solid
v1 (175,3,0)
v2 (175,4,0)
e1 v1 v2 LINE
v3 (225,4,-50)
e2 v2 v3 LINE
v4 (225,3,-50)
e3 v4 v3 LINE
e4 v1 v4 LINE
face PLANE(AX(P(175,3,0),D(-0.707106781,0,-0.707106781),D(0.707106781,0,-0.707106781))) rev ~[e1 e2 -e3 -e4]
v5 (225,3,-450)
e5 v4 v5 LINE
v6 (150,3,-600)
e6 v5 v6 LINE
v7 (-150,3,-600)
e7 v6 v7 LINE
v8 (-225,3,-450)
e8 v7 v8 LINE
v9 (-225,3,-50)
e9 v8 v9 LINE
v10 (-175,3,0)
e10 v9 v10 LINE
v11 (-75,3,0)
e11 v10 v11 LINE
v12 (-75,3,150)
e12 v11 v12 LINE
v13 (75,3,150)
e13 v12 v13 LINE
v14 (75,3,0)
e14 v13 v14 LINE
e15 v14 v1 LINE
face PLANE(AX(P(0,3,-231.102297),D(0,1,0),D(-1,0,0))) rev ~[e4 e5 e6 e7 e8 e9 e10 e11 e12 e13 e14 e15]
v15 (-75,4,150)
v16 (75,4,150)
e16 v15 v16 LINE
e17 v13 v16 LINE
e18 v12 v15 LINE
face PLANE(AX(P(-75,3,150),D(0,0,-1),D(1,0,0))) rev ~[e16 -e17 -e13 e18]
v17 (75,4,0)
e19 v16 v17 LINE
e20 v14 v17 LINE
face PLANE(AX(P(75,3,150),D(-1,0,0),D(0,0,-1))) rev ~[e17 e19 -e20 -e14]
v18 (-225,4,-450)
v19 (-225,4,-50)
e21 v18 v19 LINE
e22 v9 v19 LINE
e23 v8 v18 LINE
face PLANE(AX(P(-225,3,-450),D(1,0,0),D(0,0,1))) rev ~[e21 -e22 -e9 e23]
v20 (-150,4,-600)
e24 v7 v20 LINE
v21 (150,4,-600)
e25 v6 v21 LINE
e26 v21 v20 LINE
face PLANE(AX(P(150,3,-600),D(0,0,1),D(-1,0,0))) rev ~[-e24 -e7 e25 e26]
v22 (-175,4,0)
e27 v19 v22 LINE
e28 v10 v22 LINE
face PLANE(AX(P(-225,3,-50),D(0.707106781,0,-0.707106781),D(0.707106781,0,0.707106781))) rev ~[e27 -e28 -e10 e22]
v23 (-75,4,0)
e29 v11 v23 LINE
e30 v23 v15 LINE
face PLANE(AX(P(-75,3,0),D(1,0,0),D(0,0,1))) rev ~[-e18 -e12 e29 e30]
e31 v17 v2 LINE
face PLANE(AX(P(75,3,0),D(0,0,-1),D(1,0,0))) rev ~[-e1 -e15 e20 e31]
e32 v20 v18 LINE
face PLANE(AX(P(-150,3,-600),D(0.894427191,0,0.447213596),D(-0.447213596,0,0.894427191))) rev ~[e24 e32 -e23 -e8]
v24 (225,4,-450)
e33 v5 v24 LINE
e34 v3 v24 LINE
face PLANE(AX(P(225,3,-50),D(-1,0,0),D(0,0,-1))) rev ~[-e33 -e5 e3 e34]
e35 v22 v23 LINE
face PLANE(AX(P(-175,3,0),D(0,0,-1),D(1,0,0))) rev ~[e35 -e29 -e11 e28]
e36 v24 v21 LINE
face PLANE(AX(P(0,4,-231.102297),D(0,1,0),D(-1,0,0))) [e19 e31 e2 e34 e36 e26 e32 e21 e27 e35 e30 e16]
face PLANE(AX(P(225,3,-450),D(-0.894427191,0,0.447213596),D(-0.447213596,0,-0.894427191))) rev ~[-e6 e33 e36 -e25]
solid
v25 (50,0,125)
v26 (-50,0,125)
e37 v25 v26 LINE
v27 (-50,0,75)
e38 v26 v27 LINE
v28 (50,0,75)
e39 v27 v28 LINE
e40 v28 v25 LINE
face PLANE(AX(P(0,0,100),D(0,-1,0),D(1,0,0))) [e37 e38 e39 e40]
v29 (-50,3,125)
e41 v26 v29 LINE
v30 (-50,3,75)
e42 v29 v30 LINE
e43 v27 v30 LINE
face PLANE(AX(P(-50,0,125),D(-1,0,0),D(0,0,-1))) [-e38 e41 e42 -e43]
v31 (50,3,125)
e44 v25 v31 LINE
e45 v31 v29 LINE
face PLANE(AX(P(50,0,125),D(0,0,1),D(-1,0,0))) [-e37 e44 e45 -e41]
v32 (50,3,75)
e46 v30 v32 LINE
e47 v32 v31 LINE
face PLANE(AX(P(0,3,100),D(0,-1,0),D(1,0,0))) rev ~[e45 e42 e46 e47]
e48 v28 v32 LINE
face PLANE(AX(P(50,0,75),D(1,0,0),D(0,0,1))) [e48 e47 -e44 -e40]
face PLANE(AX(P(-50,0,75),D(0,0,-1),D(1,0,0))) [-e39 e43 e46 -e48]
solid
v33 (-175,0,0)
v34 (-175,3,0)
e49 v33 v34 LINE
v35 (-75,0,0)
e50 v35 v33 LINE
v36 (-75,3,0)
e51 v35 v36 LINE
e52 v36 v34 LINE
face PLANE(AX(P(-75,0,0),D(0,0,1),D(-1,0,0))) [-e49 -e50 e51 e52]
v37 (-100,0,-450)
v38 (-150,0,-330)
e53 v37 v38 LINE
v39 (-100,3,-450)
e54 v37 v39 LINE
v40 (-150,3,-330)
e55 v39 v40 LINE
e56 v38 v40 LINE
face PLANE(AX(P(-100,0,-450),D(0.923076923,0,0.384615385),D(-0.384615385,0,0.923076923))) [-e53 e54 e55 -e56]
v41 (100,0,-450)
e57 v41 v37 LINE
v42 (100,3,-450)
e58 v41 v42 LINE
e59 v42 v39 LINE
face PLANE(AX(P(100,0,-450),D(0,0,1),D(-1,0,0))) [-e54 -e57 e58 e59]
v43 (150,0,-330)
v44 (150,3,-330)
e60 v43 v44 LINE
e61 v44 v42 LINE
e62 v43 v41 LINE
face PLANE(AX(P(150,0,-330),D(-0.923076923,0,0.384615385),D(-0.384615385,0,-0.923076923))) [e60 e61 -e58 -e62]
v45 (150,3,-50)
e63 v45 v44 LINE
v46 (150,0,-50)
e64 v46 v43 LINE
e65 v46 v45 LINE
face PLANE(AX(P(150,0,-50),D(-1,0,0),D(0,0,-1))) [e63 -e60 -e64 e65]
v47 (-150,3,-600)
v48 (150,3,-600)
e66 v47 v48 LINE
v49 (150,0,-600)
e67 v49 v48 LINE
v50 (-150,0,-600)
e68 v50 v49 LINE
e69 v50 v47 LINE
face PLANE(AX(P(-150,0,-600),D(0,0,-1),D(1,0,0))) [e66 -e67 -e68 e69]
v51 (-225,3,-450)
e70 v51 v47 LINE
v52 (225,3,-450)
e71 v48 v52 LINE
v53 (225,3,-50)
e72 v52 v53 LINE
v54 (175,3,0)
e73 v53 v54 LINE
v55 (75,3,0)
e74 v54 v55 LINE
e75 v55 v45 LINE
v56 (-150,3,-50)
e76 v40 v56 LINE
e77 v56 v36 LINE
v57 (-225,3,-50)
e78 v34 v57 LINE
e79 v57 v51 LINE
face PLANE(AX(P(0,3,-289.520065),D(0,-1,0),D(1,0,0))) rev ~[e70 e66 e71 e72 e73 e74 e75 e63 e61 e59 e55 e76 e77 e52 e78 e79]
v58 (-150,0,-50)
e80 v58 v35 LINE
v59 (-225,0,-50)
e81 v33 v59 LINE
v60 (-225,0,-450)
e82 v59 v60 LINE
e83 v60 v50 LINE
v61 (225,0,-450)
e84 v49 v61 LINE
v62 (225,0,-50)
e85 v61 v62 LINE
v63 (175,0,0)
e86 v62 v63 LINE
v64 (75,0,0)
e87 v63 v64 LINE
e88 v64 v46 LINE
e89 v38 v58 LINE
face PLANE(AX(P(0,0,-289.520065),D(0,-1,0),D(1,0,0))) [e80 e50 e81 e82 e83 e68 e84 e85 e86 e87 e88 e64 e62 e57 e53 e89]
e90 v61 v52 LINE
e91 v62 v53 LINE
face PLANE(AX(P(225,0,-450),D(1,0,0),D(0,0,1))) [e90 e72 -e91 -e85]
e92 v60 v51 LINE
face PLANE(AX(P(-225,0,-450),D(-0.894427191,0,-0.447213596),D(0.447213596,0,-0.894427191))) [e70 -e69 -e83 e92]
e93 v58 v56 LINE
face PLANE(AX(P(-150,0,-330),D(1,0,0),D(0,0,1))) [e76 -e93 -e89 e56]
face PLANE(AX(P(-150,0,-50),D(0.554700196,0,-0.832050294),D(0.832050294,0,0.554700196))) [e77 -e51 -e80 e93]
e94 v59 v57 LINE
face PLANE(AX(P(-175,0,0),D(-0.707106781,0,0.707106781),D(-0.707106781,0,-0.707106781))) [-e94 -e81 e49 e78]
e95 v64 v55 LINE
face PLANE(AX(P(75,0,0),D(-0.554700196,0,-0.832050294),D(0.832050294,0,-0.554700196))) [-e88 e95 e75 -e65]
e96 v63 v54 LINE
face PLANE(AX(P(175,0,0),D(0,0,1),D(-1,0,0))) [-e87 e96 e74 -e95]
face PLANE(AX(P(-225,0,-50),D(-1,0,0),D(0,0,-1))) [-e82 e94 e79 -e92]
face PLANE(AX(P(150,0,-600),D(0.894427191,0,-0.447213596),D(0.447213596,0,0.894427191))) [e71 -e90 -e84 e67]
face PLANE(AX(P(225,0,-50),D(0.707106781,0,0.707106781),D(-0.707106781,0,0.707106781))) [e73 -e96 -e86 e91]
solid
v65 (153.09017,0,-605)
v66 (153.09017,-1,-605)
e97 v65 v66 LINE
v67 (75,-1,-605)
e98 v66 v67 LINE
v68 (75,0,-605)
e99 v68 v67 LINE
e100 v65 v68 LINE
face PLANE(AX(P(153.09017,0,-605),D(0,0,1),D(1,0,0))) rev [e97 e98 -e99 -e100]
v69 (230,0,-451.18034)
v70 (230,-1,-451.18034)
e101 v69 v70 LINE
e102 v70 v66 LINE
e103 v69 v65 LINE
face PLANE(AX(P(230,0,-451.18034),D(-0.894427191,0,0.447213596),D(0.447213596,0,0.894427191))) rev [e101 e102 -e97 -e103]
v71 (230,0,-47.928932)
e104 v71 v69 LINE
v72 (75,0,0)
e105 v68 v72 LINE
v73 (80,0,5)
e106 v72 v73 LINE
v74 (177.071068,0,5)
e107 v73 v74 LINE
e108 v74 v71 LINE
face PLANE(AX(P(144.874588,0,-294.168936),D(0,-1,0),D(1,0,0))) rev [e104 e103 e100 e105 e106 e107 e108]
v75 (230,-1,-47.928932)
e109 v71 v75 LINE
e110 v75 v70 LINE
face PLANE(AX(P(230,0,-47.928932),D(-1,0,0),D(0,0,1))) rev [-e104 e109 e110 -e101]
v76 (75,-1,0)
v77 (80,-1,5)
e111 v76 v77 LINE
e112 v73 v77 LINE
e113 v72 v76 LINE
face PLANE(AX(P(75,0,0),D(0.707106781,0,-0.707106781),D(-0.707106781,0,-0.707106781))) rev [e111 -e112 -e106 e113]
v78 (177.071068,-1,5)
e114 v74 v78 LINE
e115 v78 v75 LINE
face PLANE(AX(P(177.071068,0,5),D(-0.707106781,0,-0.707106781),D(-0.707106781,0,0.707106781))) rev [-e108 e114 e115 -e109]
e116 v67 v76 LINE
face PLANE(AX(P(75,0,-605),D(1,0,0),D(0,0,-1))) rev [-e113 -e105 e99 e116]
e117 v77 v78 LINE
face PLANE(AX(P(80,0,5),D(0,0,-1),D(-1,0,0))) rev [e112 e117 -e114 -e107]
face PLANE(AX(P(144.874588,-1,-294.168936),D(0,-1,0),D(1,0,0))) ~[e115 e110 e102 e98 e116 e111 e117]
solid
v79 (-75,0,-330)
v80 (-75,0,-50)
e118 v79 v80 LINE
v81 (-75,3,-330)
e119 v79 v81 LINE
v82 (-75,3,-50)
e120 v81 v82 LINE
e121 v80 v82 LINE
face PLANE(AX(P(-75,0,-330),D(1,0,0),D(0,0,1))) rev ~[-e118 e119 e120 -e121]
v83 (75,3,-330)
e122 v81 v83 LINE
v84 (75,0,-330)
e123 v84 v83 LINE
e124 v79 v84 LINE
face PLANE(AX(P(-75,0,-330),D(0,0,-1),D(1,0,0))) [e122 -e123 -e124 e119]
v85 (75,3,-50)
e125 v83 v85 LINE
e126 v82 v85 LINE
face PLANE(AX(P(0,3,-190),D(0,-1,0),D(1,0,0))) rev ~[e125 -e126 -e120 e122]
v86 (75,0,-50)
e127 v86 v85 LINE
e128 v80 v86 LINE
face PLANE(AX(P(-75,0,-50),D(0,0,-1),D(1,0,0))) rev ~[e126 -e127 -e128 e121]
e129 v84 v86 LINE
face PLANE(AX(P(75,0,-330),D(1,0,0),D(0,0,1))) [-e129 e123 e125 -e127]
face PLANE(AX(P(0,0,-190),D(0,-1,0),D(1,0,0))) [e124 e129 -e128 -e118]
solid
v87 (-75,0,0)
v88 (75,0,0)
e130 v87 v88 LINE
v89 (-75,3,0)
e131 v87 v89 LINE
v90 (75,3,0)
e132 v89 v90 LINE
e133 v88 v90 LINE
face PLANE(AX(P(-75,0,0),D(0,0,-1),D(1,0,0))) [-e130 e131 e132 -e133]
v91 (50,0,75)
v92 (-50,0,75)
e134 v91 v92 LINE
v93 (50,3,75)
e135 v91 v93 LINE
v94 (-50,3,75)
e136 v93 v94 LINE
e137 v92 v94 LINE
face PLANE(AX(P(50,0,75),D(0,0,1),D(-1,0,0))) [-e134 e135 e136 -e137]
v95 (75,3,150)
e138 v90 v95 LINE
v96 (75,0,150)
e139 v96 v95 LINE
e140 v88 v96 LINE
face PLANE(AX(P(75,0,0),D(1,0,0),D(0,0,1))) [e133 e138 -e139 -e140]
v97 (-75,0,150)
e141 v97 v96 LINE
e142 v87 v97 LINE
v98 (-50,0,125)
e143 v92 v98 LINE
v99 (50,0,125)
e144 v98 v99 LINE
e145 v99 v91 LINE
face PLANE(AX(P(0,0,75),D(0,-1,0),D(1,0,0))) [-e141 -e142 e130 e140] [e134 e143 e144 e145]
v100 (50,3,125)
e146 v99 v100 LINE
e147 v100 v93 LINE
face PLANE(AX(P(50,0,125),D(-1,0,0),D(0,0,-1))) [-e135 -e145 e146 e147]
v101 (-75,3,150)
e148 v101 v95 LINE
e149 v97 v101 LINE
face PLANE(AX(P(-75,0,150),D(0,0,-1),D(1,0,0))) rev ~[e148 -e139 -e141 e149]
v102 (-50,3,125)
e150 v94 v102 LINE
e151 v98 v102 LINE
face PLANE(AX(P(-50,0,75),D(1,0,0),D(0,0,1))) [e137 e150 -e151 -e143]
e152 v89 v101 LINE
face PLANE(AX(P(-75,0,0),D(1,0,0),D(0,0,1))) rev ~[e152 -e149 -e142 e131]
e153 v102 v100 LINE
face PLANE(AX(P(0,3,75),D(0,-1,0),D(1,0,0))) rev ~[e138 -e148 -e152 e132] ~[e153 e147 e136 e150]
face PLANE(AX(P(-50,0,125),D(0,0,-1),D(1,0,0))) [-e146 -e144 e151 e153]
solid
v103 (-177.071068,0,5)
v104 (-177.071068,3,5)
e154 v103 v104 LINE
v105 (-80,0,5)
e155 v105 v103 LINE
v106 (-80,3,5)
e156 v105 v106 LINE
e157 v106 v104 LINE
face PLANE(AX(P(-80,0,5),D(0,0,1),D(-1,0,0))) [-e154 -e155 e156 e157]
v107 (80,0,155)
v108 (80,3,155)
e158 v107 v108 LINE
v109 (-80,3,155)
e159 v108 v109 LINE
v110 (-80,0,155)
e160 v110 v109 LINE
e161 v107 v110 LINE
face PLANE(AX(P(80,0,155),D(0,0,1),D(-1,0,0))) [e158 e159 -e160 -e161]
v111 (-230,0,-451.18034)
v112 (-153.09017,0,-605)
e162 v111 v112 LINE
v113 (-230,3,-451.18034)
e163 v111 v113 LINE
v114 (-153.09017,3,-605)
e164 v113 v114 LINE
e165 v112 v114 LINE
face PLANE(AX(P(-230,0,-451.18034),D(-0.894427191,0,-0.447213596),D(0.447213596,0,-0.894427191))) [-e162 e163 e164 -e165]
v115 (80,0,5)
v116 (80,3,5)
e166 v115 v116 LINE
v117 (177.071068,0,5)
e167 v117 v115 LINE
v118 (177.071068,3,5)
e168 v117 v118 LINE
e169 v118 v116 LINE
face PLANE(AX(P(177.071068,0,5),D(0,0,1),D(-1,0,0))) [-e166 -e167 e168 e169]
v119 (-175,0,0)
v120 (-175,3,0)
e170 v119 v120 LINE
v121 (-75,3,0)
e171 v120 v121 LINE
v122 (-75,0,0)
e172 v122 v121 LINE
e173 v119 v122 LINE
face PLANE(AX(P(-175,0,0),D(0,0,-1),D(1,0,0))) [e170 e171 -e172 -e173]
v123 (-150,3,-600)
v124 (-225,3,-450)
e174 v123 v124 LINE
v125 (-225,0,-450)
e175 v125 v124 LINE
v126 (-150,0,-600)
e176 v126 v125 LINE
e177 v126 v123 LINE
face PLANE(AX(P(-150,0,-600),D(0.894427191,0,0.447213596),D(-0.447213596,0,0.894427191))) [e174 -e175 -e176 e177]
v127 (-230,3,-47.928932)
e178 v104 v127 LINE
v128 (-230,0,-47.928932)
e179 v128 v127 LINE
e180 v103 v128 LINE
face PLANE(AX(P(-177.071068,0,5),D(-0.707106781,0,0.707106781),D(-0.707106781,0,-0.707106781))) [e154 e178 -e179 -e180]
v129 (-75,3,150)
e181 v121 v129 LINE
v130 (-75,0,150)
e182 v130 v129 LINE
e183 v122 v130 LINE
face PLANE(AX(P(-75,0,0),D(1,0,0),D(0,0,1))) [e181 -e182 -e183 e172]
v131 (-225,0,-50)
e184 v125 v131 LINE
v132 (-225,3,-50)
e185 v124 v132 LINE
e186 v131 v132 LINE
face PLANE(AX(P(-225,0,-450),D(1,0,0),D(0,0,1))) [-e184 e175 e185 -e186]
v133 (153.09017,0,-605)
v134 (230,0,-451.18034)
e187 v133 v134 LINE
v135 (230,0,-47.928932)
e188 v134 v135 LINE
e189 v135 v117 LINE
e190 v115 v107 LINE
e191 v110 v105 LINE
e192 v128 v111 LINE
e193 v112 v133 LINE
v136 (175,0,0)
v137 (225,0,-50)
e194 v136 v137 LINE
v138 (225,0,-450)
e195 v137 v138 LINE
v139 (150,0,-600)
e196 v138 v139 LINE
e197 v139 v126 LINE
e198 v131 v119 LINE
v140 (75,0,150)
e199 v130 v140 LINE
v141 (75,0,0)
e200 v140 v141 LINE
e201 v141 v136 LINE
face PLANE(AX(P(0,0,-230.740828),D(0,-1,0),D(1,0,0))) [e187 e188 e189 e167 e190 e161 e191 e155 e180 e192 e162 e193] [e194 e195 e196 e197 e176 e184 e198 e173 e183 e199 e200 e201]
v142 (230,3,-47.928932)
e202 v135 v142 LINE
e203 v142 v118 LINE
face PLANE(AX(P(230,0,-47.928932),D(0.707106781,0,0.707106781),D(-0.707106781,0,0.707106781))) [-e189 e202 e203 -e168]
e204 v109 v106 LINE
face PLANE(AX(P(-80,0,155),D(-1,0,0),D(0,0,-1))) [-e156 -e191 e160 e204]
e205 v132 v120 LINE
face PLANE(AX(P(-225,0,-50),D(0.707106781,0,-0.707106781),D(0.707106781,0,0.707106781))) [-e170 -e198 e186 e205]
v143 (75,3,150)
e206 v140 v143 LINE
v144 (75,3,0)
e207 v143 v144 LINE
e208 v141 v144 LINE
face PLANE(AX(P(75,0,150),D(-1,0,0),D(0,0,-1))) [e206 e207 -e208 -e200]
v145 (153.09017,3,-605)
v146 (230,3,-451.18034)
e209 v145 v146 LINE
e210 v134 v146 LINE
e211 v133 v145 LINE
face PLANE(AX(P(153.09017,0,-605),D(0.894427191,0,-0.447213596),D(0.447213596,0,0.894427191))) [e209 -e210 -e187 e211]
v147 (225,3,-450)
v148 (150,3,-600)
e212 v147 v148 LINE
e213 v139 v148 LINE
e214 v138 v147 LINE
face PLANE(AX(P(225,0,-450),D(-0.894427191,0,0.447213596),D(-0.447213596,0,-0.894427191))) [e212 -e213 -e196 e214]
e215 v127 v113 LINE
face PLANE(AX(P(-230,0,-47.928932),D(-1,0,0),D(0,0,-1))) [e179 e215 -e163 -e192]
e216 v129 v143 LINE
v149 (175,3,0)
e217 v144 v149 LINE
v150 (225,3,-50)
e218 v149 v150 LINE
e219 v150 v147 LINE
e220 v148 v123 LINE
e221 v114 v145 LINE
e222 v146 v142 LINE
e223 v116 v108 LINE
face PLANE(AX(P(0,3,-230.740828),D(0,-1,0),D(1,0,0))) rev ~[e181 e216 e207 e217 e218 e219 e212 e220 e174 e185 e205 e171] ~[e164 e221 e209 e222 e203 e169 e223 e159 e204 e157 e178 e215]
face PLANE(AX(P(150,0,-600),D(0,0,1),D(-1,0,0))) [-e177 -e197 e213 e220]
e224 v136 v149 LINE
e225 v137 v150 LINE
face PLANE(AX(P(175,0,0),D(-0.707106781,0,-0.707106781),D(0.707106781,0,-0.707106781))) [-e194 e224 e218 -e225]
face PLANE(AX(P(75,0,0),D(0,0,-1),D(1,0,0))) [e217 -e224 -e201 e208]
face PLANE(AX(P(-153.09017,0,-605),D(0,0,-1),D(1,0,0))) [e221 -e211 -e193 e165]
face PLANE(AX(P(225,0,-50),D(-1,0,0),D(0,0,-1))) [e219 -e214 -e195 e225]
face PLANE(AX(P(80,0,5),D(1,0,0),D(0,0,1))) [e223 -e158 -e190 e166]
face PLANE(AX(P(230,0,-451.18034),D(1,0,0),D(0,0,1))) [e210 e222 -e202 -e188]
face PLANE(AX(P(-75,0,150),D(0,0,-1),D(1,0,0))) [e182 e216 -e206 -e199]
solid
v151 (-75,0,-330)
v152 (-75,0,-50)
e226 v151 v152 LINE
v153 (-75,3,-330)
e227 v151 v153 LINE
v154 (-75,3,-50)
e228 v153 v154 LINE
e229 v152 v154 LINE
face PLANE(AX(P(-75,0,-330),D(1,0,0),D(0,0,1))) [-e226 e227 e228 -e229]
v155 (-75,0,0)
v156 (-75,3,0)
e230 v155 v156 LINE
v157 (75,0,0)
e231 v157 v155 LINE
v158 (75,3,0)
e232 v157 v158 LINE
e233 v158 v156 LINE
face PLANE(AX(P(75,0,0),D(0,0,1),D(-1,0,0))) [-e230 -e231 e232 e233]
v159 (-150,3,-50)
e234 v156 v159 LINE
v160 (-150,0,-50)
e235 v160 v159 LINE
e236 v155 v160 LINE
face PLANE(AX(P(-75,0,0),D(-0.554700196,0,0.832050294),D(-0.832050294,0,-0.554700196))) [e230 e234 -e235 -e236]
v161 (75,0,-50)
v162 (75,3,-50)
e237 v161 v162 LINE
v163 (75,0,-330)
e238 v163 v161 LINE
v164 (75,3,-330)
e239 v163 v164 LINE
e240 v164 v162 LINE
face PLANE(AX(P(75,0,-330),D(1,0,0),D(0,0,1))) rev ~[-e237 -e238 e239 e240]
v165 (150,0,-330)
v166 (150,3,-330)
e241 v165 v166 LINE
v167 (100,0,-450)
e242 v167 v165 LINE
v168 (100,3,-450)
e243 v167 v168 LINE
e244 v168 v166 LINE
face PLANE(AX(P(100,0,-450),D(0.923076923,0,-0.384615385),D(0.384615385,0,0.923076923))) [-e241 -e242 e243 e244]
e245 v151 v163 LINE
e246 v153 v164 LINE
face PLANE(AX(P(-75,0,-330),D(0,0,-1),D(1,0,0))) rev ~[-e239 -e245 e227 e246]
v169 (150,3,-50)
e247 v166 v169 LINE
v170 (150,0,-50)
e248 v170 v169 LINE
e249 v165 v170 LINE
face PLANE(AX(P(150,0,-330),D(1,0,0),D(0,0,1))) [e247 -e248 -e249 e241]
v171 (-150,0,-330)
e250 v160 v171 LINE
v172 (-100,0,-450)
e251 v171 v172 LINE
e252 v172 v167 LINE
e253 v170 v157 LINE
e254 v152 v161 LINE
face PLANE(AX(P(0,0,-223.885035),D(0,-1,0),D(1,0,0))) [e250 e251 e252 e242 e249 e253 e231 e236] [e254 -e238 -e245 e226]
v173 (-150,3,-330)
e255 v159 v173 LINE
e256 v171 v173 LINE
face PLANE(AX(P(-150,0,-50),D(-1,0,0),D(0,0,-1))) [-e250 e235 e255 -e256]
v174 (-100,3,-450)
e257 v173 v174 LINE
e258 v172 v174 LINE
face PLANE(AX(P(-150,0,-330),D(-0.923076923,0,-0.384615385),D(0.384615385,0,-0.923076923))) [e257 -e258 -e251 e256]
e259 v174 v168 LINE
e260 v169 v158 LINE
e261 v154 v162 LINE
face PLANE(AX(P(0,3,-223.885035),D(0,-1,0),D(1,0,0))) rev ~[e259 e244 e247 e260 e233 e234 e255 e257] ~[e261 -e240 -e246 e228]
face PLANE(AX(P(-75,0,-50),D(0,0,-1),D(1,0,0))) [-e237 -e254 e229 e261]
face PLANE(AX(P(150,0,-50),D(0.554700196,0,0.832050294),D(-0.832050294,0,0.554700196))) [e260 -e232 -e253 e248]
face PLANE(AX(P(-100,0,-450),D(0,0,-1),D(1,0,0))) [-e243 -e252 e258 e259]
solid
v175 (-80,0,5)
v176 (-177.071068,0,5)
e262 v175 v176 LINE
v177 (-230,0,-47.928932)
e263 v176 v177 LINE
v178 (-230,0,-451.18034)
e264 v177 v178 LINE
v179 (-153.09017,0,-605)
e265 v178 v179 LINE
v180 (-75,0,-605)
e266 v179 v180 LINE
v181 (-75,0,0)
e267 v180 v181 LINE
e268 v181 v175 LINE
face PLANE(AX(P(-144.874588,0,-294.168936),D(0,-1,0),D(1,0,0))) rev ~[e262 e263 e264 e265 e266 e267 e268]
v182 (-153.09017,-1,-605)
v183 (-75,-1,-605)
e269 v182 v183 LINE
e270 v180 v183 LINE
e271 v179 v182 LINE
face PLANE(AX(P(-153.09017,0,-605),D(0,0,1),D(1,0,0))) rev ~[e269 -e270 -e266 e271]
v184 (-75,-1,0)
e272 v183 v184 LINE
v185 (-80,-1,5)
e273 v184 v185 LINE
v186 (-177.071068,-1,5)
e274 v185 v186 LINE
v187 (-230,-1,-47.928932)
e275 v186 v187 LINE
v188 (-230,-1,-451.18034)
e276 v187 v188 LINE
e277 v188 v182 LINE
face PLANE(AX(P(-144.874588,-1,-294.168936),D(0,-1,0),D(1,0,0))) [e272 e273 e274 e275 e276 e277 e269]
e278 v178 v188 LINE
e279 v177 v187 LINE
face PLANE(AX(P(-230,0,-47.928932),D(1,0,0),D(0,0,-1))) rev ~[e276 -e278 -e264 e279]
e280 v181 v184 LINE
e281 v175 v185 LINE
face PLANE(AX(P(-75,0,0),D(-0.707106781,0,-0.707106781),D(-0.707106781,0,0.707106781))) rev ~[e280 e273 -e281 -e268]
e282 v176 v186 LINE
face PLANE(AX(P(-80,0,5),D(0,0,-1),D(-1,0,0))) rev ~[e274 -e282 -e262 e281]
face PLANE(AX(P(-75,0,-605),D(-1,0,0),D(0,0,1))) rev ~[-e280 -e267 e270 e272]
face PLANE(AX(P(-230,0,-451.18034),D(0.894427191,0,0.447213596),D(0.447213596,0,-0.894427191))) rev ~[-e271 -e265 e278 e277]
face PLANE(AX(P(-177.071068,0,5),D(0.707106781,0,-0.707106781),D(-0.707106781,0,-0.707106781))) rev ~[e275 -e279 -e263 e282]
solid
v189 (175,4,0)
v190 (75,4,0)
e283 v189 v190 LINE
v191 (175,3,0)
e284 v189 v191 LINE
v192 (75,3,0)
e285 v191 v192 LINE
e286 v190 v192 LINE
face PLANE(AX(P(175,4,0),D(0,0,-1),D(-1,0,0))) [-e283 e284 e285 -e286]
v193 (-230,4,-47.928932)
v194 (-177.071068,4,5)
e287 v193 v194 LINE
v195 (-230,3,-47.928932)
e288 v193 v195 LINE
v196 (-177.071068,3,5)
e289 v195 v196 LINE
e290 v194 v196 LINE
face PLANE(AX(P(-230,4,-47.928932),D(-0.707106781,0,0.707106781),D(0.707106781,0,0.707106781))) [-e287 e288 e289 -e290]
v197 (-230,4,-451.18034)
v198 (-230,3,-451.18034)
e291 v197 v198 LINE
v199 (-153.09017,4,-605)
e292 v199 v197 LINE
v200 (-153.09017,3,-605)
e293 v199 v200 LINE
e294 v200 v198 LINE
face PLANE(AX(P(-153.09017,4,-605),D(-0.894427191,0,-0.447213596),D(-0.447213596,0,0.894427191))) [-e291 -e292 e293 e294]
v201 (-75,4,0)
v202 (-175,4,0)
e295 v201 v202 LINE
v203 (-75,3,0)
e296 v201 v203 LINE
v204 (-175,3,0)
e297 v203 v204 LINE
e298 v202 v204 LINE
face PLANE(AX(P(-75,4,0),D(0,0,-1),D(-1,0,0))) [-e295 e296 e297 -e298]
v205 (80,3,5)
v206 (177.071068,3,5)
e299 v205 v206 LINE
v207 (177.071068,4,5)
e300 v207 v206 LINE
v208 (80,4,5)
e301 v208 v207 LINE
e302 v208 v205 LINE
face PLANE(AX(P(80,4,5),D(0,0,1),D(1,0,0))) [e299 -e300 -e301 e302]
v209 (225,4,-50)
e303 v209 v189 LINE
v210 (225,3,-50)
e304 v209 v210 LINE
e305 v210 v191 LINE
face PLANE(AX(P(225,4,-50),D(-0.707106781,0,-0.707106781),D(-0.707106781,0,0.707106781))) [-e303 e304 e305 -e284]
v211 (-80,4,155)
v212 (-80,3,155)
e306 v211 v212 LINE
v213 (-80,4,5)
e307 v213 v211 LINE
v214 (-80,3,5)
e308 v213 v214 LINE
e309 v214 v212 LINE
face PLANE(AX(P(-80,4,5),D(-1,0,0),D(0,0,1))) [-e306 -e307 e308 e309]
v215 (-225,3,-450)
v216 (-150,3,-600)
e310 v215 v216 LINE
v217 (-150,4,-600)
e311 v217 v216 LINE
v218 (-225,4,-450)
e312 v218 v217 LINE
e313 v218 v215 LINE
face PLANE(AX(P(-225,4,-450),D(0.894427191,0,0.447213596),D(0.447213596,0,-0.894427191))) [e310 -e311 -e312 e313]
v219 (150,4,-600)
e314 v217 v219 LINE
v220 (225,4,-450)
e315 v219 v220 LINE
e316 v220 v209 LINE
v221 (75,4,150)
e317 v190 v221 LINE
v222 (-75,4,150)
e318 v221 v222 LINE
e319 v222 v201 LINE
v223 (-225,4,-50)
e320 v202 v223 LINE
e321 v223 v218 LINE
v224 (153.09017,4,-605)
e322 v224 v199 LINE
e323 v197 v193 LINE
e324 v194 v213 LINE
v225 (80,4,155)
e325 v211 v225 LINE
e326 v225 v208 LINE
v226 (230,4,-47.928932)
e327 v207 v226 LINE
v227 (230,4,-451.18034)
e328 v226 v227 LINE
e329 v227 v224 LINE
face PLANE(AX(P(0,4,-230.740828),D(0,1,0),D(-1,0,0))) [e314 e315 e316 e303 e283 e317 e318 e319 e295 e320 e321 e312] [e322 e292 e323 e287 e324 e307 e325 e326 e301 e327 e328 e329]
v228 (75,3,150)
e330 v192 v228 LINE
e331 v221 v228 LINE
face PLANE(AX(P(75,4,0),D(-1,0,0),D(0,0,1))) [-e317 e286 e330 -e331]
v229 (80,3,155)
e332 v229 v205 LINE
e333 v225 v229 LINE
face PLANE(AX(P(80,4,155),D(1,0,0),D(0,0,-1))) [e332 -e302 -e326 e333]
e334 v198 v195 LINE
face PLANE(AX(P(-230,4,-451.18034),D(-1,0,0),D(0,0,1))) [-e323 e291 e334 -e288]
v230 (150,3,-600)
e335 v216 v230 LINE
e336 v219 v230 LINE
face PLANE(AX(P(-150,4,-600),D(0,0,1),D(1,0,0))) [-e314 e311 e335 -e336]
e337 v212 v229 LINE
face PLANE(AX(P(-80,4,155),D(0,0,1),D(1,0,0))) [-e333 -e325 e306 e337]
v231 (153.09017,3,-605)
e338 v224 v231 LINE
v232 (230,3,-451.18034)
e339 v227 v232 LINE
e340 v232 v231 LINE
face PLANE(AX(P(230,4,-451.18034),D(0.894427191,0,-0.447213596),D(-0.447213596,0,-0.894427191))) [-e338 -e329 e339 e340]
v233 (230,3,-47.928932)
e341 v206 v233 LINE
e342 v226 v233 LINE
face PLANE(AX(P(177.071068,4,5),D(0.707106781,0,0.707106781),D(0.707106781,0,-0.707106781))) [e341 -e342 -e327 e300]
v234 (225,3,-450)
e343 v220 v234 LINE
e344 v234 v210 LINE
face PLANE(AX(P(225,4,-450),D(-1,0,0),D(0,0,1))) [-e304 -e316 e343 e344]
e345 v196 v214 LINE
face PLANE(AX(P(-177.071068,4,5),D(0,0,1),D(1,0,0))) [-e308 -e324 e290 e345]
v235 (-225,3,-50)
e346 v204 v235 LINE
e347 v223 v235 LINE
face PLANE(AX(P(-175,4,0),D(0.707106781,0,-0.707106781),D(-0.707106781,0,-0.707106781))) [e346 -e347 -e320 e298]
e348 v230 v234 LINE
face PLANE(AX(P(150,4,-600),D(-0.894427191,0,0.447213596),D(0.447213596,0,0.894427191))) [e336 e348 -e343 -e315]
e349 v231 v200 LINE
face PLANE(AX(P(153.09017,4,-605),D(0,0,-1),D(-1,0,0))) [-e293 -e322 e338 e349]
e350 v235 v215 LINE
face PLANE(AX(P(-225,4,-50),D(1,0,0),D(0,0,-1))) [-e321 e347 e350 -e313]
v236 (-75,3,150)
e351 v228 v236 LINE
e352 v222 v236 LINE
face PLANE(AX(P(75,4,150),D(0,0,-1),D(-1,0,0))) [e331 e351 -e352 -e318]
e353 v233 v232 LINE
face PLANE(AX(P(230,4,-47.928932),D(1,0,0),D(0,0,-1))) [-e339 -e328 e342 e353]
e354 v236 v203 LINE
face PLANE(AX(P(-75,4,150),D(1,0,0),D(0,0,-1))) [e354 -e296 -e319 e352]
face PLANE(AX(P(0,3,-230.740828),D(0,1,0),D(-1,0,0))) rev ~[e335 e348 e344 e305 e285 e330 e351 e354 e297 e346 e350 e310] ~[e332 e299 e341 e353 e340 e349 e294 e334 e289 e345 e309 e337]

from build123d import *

# Parameters (mm, degrees)
F1_DEPTH  = 3
F2_W      = 150
F2_H      = 150
F3_DEPTH  = 3
F4_W      = 150
F4_H      = 280
F5_DEPTH  = 3
F6_W      = 150
F6_H      = 280
F7_DEPTH  = 3
F9_DEPTH  = 3
F11_DEPTH = 3
F13_DEPTH = 1
F15_DEPTH = 1
F17_DEPTH = 1


with BuildPart() as f1:
    # F0 (on Front) → F1 (new body)
    with BuildSketch(Plane.XZ):
        Polygon((50, 125), (0, 125), (-50, 125), (-50, 100), (-50, 75), (0, 75), (50, 75), (50, 100), align=None)
    extrude(amount=-F1_DEPTH)


with BuildPart() as f3:
    # F2 (on Front) → F3 (new body)
    with BuildSketch(Plane.XZ):
        with Locations((0, 75)):
            Rectangle(F2_W, F2_H)
        Polygon((-50, 125), (0, 125), (50, 125), (50, 100), (50, 75), (0, 75), (-50, 75), (-50, 100), align=None, mode=Mode.SUBTRACT)
    extrude(amount=-F3_DEPTH)


with BuildPart() as f5:
    # F4 (on Front) → F5 (new body)
    with BuildSketch(Plane.XZ):
        with Locations((0, -190)):
            Rectangle(F4_W, F4_H)
    extrude(amount=-F5_DEPTH)


with BuildPart() as f7:
    # F6 (on Front) → F7 (new body)
    with BuildSketch(Plane.XZ):
        Polygon((75, 0), (-75, 0), (-150, -50), (-150, -330), (-100, -450), (100, -450), (150, -330), (150, -50), align=None)
        with Locations((0, -190)):
            Rectangle(F6_W, F6_H, mode=Mode.SUBTRACT)
    extrude(amount=-F7_DEPTH)


with BuildPart() as f9:
    # F8 (on face) → F9 (new body)
    with BuildSketch(Plane.XZ):
        Polygon((175, 0), (75, 0), (150, -50), (150, -330), (100, -450), (-100, -450), (-150, -330), (-150, -50), (-75, 0), (-175, 0), (-225, -50), (-225, -450), (-150, -600), (150, -600), (225, -450), (225, -50), align=None)
    extrude(amount=-F9_DEPTH)


with BuildPart() as f11:
    # F10 (on face) → F11 (new body)
    with BuildSketch(Plane.XZ):
        Polygon((230, -47.928932), (177.071068, 5), (80, 5), (80, 155), (-80, 155), (-80, 5), (-177.071068, 5), (-230, -47.928932), (-230, -451.18034), (-153.09017, -605), (153.09017, -605), (230, -451.18034), align=None)
        Polygon((-75, 150), (75, 150), (75, 0), (175, 0), (225, -50), (225, -450), (150, -600), (-150, -600), (-225, -450), (-225, -50), (-175, 0), (-75, 0), align=None, mode=Mode.SUBTRACT)
    extrude(amount=-F11_DEPTH)


with BuildPart() as f13:
    # F12 (on face) → F13 (new body)
    with BuildSketch(Plane(origin=(0, 3, 0), x_dir=(-1, 0, 0), z_dir=(0, 1, 0))):
        Polygon((75, 0), (75, 150), (-75, 150), (-75, 0), (-175, 0), (-225, -50), (-225, -450), (-150, -600), (150, -600), (225, -450), (225, -50), (175, 0), align=None)
    extrude(amount=F13_DEPTH)


with BuildPart() as f15:
    # F14 (on face) → F15 (new body)
    with BuildSketch(Plane(origin=(0, 4, 0), x_dir=(-1, 0, 0), z_dir=(0, 1, 0))):
        Polygon((80, 155), (-80, 155), (-80, 5), (-177.071068, 5), (-230, -47.928932), (-230, -451.18034), (-153.09017, -605), (153.09017, -605), (230, -451.18034), (230, -47.928932), (177.071068, 5), (80, 5), align=None)
        Polygon((-75, 0), (-75, 150), (75, 150), (75, 0), (175, 0), (225, -50), (225, -450), (150, -600), (-150, -600), (-225, -450), (-225, -50), (-175, 0), align=None, mode=Mode.SUBTRACT)
    extrude(amount=-F15_DEPTH)


with BuildPart() as f17:
    # F16 (on face) → F17 (new body)
    with BuildSketch(Plane.XZ):
        Polygon((-153.09017, -605), (-75, -605), (-75, 0), (-80, 5), (-177.071068, 5), (-230, -47.928932), (-230, -451.18034), align=None)
    extrude(amount=F17_DEPTH)


with BuildPart() as f18_1:
    # F18: instance of F17
    add(f17.part.mirror(Plane.YZ))


solid = Compound([f1.part, f3.part, f5.part, f7.part, f9.part, f11.part, f13.part, f15.part, f17.part, f18_1.part])
